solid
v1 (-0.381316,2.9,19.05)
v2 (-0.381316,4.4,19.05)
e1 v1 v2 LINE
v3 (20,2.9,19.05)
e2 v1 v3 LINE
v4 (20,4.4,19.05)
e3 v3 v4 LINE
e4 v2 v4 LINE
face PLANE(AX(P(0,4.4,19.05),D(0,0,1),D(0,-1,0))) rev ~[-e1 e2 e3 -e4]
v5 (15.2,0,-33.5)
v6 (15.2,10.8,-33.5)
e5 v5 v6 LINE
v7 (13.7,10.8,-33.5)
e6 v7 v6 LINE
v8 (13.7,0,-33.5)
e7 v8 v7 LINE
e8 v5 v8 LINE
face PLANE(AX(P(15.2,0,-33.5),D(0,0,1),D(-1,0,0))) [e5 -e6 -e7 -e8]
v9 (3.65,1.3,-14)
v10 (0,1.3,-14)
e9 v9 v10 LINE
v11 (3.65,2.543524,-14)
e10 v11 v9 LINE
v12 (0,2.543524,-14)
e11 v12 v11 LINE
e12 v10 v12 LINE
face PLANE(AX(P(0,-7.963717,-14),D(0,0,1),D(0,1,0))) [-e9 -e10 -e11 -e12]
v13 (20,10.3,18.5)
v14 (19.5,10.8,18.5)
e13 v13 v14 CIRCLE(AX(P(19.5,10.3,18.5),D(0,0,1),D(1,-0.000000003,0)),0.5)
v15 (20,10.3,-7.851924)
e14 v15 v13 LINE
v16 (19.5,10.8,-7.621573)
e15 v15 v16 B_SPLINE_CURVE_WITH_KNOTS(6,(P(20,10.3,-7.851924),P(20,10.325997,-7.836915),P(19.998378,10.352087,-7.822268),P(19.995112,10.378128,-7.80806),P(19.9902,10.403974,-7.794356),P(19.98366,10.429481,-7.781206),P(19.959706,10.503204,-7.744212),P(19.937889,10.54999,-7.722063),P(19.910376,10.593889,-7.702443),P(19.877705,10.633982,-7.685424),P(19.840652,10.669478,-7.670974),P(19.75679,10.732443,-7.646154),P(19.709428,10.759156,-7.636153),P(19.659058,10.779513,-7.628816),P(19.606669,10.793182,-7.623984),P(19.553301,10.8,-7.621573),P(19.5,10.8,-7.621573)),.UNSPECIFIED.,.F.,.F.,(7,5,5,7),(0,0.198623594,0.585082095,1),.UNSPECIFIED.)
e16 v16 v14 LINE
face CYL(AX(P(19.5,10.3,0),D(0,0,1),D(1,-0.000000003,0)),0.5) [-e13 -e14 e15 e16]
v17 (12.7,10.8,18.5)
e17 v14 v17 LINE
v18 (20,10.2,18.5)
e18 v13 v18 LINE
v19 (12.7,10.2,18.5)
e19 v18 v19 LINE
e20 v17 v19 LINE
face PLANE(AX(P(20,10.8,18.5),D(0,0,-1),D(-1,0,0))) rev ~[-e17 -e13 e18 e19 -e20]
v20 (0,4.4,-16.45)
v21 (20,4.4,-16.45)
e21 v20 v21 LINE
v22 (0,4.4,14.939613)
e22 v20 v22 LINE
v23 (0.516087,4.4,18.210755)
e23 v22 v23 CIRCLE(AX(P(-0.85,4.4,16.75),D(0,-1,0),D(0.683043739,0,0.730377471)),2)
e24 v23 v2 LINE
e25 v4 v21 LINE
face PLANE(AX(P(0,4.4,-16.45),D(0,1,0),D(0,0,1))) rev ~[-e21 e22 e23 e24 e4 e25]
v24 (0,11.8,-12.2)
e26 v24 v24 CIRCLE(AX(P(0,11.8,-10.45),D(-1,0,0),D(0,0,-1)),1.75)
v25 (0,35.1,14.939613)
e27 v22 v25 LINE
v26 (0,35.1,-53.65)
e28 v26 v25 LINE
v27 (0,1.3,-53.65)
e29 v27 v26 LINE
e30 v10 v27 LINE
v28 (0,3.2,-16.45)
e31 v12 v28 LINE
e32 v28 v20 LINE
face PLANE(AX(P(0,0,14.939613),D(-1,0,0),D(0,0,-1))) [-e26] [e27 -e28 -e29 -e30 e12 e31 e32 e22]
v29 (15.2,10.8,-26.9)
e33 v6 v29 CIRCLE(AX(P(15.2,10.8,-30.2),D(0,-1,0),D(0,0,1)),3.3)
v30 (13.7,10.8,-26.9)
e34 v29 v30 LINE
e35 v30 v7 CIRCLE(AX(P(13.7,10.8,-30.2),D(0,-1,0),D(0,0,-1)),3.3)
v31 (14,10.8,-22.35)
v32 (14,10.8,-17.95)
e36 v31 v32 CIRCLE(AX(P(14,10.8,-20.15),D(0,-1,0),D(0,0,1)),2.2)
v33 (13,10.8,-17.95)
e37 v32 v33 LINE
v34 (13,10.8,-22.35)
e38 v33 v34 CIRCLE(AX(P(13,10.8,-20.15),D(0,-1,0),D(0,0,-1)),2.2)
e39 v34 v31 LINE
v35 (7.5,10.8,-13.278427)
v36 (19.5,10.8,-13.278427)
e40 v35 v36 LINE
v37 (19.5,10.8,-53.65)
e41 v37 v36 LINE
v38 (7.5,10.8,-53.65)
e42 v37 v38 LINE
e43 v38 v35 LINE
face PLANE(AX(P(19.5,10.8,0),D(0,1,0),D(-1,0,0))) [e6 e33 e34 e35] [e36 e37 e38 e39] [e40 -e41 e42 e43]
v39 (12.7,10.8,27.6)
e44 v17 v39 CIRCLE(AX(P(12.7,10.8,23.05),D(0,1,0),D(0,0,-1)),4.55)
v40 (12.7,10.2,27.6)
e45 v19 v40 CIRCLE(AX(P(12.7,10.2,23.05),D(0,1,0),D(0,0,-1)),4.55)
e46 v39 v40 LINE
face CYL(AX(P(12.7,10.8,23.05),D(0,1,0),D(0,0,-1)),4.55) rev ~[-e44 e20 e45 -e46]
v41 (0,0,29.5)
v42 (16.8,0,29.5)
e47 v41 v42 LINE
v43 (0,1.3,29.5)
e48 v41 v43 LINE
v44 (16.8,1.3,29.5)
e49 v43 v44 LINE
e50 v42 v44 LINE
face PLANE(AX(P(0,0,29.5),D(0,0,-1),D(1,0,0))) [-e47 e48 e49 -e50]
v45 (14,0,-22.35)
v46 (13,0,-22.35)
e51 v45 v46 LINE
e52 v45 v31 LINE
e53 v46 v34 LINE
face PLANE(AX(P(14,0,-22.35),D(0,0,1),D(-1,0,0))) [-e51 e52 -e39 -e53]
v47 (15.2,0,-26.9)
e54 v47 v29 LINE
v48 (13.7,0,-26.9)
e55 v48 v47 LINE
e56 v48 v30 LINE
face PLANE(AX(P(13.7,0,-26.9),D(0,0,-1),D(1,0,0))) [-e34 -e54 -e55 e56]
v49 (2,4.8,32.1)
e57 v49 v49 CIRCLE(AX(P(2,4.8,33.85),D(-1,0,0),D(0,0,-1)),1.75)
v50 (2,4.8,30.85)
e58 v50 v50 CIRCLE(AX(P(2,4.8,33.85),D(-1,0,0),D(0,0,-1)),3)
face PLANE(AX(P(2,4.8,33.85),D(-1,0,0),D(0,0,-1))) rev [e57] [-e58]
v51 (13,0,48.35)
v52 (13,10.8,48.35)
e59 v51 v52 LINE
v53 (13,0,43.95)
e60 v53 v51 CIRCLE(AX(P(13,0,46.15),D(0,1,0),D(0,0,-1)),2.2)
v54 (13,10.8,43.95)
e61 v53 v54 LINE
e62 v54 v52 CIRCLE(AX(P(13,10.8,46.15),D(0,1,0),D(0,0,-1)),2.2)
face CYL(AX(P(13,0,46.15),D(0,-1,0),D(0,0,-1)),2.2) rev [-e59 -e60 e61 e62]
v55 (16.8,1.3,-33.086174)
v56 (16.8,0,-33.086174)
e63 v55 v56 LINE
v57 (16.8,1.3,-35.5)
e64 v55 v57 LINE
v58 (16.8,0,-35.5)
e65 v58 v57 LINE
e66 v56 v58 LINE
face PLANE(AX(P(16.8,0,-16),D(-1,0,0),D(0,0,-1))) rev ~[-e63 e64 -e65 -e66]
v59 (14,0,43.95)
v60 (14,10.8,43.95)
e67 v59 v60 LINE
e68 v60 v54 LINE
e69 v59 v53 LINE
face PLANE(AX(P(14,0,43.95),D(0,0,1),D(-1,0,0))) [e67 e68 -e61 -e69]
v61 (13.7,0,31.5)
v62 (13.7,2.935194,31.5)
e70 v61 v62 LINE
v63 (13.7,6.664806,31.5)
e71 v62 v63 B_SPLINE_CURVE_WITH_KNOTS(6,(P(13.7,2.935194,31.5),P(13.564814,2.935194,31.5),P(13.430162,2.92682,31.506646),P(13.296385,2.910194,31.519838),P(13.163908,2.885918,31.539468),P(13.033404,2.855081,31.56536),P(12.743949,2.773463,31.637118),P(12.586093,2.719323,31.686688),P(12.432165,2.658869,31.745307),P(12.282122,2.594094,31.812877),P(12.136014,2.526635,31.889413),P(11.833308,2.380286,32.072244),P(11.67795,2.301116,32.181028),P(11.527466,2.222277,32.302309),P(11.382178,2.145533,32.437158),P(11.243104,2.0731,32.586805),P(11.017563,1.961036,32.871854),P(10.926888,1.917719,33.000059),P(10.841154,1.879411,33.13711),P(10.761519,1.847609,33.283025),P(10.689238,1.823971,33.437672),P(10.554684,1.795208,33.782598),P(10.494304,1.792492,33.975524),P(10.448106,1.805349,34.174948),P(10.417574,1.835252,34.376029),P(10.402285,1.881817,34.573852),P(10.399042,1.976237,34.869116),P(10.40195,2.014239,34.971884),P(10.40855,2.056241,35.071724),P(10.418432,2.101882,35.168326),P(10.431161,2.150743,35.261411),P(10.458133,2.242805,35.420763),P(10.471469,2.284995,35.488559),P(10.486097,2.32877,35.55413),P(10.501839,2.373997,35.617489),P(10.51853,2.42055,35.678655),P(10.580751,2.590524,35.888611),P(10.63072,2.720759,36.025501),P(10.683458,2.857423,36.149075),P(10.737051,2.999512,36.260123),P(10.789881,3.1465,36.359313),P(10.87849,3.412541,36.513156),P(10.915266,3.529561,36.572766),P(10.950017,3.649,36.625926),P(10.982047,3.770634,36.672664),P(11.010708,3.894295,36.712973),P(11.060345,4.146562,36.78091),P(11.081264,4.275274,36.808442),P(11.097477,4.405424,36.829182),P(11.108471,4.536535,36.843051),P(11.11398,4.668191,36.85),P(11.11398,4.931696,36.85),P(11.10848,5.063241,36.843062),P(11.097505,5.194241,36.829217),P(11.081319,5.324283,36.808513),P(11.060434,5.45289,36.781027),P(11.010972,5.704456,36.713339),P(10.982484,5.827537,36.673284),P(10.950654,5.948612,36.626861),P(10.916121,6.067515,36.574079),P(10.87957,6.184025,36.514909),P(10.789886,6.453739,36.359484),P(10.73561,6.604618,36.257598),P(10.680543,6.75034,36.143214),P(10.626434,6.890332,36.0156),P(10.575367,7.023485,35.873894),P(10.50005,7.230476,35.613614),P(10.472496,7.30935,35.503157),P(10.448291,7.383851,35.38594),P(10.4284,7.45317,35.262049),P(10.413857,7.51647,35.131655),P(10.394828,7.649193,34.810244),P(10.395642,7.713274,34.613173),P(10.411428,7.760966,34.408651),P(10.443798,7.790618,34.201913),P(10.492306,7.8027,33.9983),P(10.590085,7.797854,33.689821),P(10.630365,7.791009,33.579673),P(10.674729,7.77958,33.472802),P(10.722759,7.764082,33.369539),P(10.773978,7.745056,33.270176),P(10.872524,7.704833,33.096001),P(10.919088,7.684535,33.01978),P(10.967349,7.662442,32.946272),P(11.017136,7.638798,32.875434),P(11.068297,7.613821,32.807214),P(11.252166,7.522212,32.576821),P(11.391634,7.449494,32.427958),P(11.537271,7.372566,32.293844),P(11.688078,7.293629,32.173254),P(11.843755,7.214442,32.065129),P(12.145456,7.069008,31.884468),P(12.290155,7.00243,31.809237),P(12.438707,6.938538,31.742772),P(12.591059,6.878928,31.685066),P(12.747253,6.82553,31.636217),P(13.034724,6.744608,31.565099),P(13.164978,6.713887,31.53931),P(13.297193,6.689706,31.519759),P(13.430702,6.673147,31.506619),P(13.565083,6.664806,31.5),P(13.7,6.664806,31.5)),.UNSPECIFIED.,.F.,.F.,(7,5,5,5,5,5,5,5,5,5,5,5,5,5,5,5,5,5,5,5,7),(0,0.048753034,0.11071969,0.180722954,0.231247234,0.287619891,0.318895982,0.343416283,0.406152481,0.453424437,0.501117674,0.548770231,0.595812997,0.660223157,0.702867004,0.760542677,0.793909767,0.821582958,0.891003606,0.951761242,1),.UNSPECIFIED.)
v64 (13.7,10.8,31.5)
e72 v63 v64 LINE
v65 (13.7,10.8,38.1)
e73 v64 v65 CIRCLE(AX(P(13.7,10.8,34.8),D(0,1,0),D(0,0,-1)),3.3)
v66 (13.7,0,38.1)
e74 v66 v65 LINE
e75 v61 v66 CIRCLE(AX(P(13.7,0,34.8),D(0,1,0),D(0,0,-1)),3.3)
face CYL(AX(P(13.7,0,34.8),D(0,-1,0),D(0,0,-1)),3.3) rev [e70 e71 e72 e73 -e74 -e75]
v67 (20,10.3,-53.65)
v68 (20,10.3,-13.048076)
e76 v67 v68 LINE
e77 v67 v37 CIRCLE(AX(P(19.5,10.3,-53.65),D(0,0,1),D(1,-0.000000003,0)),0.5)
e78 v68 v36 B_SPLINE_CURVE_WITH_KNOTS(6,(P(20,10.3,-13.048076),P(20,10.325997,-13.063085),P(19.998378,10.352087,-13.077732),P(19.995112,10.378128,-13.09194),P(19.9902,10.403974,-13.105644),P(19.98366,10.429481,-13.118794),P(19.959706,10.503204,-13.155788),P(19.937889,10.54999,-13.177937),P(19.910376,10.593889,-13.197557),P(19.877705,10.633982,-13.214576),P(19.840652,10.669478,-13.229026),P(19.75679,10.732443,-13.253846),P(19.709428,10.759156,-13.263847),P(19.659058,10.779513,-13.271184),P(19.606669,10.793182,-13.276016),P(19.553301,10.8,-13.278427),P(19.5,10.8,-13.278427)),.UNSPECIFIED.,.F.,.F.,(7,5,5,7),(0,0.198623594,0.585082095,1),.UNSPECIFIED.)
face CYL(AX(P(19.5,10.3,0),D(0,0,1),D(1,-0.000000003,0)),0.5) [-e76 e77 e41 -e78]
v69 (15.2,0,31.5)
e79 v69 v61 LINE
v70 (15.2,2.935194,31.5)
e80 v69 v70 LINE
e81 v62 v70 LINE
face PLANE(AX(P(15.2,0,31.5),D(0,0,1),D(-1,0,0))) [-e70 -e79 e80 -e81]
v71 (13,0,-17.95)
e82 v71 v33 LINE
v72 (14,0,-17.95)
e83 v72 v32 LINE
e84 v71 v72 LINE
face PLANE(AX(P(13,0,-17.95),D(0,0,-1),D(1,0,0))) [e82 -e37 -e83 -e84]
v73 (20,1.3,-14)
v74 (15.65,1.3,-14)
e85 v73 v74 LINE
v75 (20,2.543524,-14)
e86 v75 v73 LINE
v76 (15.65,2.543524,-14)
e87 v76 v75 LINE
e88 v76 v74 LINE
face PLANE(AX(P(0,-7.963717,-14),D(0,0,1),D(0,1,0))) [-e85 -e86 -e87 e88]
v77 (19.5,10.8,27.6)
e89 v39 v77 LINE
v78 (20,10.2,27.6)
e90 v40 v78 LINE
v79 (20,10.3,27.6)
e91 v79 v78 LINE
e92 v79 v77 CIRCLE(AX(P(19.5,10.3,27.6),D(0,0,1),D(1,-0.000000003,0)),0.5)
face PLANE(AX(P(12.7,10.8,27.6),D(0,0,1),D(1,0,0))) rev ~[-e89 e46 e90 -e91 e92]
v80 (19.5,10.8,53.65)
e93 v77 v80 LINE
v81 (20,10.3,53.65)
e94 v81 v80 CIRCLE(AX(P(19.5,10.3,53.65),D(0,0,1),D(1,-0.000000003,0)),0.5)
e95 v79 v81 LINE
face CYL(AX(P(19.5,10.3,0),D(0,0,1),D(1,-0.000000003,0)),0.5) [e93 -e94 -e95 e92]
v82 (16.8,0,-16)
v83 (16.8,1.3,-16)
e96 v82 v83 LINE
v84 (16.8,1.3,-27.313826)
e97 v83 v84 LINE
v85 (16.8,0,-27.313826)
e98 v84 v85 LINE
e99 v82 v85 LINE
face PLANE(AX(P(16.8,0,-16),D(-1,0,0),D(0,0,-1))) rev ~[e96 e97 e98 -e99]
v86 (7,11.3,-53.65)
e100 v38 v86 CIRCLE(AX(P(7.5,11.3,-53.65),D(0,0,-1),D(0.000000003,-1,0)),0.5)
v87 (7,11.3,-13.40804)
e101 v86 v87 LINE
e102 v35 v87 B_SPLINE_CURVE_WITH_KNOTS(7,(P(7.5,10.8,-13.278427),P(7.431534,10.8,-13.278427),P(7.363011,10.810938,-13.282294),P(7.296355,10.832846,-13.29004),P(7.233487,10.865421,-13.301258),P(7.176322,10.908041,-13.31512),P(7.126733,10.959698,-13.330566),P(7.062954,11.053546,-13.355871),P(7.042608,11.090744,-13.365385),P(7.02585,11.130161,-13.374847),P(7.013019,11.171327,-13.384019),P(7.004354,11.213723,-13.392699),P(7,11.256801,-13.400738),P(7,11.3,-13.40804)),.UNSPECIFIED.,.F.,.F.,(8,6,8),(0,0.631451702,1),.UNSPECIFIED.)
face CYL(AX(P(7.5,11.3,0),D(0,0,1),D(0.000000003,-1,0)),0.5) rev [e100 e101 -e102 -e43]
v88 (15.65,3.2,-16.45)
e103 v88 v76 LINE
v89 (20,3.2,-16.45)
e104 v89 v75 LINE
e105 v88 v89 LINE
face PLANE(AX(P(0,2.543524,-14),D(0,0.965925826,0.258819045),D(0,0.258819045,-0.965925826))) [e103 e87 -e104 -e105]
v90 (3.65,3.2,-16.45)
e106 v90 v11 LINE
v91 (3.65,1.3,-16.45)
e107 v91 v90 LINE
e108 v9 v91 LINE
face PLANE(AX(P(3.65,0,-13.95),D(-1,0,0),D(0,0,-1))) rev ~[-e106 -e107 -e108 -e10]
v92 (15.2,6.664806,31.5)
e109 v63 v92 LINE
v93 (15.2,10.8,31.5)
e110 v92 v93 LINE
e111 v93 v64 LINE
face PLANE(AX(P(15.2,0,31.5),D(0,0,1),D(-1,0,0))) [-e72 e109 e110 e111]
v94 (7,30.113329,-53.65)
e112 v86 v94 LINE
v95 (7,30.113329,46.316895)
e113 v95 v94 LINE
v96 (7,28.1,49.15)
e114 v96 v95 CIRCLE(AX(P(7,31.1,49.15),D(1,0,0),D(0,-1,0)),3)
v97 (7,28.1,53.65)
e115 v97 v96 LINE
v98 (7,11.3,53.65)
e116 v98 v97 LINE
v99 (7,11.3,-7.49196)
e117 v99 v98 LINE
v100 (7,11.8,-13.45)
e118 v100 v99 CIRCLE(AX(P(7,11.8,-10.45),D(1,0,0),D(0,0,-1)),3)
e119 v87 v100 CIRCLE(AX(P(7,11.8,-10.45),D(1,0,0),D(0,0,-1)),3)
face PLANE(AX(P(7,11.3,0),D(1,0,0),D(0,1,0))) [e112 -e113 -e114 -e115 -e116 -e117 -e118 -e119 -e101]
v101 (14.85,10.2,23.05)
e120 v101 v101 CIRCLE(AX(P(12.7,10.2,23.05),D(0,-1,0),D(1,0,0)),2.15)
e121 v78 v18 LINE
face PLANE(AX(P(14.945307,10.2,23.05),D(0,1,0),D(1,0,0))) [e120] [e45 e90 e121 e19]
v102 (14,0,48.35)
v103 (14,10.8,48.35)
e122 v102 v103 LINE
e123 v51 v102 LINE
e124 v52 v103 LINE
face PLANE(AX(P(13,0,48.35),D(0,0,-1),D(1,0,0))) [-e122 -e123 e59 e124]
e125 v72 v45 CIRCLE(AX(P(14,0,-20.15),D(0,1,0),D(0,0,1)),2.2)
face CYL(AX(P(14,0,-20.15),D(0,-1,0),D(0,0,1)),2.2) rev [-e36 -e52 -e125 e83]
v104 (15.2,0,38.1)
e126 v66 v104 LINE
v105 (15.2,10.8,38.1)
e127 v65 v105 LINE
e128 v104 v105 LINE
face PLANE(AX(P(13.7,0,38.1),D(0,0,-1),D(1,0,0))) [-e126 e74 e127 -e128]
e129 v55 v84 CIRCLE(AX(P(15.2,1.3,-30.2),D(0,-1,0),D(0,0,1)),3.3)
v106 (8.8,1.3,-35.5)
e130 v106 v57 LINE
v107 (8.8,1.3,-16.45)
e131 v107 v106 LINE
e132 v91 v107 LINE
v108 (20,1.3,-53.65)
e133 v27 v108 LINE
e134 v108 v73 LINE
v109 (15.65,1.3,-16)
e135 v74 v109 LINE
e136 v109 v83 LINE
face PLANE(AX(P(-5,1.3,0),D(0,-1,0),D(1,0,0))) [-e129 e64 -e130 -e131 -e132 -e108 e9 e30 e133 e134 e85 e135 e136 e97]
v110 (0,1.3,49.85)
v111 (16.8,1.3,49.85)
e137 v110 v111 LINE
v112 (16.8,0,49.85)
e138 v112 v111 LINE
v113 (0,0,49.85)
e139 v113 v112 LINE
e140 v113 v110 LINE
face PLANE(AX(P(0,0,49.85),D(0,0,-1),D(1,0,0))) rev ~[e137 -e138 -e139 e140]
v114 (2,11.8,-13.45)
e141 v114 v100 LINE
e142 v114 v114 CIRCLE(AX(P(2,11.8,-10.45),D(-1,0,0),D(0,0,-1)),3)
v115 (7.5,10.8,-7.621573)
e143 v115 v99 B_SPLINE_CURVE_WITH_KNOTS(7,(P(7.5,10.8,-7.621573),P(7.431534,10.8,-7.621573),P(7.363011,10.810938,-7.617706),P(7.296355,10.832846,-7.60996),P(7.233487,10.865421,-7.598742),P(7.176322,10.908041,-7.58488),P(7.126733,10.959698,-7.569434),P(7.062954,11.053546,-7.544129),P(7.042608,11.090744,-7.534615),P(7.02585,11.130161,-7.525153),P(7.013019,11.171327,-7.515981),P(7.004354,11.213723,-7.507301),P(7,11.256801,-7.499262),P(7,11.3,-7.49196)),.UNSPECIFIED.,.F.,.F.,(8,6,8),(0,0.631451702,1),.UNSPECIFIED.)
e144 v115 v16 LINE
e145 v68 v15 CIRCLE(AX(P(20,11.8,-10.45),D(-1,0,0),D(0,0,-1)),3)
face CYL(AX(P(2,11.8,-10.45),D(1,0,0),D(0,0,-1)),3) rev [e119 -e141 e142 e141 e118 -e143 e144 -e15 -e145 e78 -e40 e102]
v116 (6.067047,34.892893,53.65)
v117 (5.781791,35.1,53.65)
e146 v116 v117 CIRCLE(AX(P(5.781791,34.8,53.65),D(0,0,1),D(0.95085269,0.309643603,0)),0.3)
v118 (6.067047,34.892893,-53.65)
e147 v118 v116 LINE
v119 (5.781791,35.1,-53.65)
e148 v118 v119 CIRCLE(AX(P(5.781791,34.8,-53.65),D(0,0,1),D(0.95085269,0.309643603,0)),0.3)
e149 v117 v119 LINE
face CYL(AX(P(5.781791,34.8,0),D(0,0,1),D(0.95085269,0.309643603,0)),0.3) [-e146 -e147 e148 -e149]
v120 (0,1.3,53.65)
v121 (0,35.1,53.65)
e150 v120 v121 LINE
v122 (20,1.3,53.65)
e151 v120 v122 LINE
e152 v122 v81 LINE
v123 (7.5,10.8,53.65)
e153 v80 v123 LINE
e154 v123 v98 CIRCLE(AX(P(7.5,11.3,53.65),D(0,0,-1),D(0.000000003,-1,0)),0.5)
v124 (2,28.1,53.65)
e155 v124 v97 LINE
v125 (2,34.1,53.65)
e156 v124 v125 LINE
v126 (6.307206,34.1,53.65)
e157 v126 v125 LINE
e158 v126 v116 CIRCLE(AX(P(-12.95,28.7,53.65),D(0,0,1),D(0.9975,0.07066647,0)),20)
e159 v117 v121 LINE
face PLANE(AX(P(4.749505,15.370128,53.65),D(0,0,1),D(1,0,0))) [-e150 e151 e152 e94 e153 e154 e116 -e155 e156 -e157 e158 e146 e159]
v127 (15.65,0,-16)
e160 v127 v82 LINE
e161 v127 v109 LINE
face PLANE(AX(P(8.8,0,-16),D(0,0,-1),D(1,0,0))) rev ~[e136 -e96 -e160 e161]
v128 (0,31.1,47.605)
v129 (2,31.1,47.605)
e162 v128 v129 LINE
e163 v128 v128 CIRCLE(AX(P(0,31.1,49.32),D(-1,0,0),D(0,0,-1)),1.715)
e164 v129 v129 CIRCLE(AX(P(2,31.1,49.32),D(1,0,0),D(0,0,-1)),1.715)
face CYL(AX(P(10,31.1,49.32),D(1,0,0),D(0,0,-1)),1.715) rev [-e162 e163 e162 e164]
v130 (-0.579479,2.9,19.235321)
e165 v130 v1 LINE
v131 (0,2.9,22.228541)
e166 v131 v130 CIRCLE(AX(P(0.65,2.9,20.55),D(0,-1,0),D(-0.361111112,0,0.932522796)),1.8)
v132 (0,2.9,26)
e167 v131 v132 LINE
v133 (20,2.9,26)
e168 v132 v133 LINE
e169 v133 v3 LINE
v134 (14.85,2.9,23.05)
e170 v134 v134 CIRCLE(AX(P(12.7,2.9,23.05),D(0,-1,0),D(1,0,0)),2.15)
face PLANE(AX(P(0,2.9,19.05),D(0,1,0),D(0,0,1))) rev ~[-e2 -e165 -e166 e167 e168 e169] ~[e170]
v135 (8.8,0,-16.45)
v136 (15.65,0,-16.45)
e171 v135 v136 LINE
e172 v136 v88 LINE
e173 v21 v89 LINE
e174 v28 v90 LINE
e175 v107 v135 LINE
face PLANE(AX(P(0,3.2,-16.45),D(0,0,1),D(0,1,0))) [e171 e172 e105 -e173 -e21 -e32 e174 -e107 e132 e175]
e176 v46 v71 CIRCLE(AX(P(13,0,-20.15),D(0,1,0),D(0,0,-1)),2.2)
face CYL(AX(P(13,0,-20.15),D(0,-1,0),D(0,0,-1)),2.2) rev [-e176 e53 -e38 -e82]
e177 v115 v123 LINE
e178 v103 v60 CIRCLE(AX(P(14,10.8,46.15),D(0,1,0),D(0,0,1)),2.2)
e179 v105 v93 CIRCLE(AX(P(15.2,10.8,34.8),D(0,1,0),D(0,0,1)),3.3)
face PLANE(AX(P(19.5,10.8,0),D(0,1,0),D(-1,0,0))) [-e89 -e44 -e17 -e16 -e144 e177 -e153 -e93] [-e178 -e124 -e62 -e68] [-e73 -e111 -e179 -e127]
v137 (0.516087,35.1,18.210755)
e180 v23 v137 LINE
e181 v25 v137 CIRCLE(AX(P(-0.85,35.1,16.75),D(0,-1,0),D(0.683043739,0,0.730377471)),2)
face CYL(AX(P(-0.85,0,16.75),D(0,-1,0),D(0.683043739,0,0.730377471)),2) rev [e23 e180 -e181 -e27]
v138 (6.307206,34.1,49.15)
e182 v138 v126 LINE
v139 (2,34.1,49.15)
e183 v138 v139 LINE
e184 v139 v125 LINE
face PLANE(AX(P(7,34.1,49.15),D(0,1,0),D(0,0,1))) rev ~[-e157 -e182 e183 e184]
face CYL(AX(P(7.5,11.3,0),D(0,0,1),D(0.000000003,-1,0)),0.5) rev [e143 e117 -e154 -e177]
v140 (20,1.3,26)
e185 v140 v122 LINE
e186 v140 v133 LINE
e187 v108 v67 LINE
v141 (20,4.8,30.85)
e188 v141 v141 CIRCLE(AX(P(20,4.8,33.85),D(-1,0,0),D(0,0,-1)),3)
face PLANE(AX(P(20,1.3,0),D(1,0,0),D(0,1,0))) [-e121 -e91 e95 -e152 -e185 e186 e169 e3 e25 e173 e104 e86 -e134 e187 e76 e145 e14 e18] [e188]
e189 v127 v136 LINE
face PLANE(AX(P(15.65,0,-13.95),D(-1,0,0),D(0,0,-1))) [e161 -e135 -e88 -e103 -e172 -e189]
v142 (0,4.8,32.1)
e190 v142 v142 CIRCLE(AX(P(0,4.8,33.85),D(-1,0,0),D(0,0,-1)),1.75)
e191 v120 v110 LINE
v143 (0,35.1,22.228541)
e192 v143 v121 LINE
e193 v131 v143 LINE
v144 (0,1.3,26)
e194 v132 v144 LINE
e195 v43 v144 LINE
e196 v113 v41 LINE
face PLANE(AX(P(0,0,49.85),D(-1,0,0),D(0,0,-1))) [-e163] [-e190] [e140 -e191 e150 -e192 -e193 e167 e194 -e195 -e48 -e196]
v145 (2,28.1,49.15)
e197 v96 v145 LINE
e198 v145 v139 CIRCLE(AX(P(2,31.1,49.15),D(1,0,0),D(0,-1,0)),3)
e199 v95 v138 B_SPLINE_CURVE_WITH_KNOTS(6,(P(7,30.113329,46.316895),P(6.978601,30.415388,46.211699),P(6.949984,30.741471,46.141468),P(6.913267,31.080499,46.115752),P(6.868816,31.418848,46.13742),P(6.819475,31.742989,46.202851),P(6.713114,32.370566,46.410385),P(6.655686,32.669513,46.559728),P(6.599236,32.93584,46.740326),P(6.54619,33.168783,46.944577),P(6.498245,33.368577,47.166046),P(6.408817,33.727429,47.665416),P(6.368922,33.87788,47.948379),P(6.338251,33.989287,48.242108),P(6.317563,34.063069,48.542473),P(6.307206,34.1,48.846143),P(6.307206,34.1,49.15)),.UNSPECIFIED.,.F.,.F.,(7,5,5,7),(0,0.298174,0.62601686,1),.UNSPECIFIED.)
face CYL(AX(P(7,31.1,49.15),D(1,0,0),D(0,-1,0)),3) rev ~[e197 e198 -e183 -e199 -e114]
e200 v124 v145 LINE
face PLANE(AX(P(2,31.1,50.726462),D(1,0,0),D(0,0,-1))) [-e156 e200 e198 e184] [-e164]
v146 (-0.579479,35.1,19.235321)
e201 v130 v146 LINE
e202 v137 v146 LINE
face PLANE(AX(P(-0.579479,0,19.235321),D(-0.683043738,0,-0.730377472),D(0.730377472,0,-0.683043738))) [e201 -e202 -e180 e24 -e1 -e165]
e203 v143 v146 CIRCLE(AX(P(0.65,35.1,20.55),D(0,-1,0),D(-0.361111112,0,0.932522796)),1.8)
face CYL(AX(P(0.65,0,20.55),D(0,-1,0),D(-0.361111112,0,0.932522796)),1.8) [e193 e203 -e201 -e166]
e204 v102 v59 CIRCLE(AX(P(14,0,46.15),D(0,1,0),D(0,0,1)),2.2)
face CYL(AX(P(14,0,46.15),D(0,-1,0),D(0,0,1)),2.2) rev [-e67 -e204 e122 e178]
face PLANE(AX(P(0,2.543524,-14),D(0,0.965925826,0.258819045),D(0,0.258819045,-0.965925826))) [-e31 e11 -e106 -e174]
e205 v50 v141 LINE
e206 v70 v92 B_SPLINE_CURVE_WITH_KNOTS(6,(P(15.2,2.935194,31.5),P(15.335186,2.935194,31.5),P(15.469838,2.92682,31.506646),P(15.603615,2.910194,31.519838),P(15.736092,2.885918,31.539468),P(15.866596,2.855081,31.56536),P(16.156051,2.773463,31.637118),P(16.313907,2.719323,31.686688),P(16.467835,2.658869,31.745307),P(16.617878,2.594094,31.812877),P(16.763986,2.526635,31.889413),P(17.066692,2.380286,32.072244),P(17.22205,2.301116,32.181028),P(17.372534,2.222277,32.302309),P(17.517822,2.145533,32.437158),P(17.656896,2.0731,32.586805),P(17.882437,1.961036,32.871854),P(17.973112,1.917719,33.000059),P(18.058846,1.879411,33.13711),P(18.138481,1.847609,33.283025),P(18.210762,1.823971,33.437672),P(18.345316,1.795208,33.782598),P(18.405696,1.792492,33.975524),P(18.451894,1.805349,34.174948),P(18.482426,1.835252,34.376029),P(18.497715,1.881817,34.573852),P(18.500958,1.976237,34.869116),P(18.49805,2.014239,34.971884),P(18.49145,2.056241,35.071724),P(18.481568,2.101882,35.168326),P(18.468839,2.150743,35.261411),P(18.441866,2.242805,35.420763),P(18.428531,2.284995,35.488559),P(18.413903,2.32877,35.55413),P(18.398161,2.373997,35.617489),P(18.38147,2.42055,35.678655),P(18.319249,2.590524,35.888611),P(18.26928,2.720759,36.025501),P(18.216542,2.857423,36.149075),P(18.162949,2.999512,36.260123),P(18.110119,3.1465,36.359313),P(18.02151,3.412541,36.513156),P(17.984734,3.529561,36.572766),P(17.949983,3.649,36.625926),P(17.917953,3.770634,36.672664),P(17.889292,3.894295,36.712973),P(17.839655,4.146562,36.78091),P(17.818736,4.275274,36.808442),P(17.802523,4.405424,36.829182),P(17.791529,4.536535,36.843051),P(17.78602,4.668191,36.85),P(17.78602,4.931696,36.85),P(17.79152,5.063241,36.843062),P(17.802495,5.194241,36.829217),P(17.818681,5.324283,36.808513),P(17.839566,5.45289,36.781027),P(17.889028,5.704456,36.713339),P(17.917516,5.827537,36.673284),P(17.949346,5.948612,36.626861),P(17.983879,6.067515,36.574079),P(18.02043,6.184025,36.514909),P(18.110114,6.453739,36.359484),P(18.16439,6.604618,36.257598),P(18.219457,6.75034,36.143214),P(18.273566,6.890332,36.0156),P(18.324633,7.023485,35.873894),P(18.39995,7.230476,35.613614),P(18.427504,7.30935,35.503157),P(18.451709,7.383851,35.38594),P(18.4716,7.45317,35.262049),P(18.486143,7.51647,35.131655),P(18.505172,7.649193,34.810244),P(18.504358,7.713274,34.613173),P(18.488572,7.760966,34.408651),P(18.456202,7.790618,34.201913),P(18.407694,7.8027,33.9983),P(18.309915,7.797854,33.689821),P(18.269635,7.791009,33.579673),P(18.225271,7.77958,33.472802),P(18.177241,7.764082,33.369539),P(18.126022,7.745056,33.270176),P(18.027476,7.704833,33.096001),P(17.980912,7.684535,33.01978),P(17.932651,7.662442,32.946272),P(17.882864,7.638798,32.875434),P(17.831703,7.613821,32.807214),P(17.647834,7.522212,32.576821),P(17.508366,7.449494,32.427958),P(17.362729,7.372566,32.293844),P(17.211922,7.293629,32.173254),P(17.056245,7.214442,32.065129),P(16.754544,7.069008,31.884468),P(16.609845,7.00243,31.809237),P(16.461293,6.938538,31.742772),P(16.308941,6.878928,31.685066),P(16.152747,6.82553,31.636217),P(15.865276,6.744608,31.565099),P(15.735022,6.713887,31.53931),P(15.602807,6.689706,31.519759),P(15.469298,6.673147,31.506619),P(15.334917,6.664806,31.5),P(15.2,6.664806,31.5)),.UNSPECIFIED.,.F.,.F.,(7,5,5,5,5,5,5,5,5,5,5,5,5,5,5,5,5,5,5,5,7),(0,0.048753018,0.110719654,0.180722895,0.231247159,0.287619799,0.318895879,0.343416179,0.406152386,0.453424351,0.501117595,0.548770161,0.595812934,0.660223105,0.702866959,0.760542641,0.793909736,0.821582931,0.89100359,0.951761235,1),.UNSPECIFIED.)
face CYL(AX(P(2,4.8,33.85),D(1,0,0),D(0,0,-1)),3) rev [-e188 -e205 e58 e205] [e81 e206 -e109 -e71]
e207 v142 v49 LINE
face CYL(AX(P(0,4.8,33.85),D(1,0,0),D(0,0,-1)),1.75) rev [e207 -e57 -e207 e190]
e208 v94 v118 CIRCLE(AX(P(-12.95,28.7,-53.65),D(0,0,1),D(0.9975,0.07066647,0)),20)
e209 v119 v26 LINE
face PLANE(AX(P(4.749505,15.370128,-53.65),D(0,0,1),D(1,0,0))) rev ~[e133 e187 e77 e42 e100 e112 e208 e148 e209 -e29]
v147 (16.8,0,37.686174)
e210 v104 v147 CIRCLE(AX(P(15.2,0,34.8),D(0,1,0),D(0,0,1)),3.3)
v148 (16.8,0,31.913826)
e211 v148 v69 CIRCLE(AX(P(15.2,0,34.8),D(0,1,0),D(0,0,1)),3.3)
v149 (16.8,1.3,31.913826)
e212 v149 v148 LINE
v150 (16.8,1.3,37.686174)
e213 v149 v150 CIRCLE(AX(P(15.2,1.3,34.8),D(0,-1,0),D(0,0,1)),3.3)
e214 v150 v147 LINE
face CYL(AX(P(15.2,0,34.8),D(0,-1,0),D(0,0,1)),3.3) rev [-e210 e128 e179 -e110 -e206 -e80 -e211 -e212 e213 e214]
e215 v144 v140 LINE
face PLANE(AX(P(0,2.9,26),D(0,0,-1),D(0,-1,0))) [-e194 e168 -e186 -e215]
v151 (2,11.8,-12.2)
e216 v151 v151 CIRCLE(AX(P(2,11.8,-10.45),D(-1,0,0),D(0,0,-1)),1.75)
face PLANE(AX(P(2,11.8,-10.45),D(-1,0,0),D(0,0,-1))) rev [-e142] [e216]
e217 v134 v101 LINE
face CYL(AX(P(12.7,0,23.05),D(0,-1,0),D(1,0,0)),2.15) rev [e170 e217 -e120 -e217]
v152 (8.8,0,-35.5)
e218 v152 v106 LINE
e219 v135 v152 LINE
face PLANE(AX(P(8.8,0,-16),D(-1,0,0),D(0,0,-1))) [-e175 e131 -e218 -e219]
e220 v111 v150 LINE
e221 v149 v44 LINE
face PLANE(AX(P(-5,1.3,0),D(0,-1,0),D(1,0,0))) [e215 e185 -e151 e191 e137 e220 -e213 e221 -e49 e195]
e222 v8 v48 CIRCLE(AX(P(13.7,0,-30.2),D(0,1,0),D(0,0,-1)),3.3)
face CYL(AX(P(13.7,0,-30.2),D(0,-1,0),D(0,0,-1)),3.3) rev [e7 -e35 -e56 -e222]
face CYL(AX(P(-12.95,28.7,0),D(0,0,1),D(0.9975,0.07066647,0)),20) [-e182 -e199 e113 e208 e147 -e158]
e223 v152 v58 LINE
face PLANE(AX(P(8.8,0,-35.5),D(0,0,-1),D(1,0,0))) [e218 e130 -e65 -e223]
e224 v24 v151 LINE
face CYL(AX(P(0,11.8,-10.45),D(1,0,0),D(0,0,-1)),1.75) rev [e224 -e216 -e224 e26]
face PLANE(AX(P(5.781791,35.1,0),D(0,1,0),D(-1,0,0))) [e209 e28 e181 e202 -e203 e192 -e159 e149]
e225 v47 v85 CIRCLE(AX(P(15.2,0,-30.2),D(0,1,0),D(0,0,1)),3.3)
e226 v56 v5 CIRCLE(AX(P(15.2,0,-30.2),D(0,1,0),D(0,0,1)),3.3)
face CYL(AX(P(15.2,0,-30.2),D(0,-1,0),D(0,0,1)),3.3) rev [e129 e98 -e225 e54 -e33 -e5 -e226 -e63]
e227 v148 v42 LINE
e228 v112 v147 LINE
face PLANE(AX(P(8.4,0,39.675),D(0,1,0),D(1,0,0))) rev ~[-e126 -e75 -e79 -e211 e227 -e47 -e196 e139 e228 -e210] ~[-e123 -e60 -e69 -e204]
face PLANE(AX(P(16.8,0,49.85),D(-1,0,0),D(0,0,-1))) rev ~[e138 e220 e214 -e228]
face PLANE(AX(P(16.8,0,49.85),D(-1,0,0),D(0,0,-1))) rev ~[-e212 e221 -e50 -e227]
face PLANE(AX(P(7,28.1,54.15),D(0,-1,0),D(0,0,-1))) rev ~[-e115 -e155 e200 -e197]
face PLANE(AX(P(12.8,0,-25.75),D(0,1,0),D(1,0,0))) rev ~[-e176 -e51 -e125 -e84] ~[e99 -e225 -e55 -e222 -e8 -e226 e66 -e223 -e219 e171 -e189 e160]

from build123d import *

# Parameters (mm, degrees)
BOSS_EXTRUDE1_DEPTH      = 53.65
BOSS_EXTRUDE1_DEPTH_BACK = 53.65
CUT_EXTRUDE1_DEPTH       = 50
CUT_EXTRUDE2_DEPTH       = 40
CUT_EXTRUDE2_DEPTH_BACK  = 40
SKETCH4_W                = 8
SKETCH4_H                = 19.5
BOSS_EXTRUDE2_DEPTH      = 1.5
SKETCH5_W                = 16.8
SKETCH5_H                = 20.35
BOSS_EXTRUDE3_DEPTH      = 1.5
CUT_EXTRUDE3_DEPTH       = 30
CUT_EXTRUDE3_DEPTH_BACK  = 30
CUT_EXTRUDE4_DEPTH       = 30
SKETCH8_R                = 2.15
CUT_EXTRUDE5_DEPTH       = 30
CUT_EXTRUDE6_DEPTH       = 10.8
CUT_EXTRUDE7_DEPTH       = 10.8
SKETCH13_W               = 20
SKETCH13_H               = 1.715
CUT_EXTRUDE8_DEPTH       = 5
CUT_EXTRUDE8_DEPTH_BACK  = 5
CUT_EXTRUDE9_DEPTH       = 0.6
SKETCH16_W               = 12
SKETCH16_H               = 2.5
CUT_EXTRUDE10_DEPTH      = 3.5


with BuildPart() as part:
    # Sketch1 → Boss-Extrude1 (new body, two sides)
    with BuildSketch(Plane.XY) as boss_extrude1_sk:
        with BuildLine():
            Line((-5, 1.3), (20, 1.3))
            Line((20, 1.3), (20, 10.3))
            ThreePointArc((20, 10.3), (19.853553391, 10.653553391), (19.5, 10.8))
            Line((19.5, 10.8), (7.5, 10.8))
            ThreePointArc((7.5, 10.8), (7.146446609, 10.946446609), (7, 11.3))
            Line((7, 11.3), (7, 30.113329403))
            ThreePointArc((7, 30.113329403), (6.679537553, 32.531612644), (6.067046966, 34.89289308))
            ThreePointArc((6.067046966, 34.89289308), (5.958046762, 35.042763181), (5.781791158, 35.1))
            Line((5.781791158, 35.1), (-5, 35.1))
            Line((-5, 35.1), (-5, 1.3))
        make_face()
    extrude(amount=BOSS_EXTRUDE1_DEPTH)
    extrude(boss_extrude1_sk.sketch, amount=-BOSS_EXTRUDE1_DEPTH_BACK)

    # Sketch2 → Cut-Extrude1 (cut)
    with BuildSketch(Plane(origin=(0, 0, 0), x_dir=(1, 0, 0), z_dir=(0, 1, 0))):
        with BuildLine():
            Line((-50, 53.65), (-50, -53.65))
            Line((-50, -53.65), (0, -53.65))
            Line((0, -53.65), (0, -22.228541033))
            ThreePointArc((0, -22.228541033), (-1.117187677, -20.892122365), (-0.57947873, -19.235320551))
            Line((-0.57947873, -19.235320551), (0.516087478, -18.210754943))
            ThreePointArc((0.516087478, -18.210754943), (1.125563929, -16.438315605), (0, -14.939613301))
            Line((0, -14.939613301), (0, 53.65))
            Line((0, 53.65), (-50, 53.65))
        make_face()
    extrude(amount=CUT_EXTRUDE1_DEPTH, mode=Mode.SUBTRACT)

    # Sketch3 → Cut-Extrude2 (cut, two sides)
    with BuildSketch(Plane(origin=(0, 0, 0), x_dir=(0, 0, -1), z_dir=(1, 0, 0))) as cut_extrude2_sk:
        Polygon((-26, 2.9), (-26, -8.174443219), (14, -7.963716906), (14, 2.543524479), (16.45, 3.2), (16.45, 4.4), (-19.05, 4.4), (-19.05, 2.9), align=None)
    extrude(amount=CUT_EXTRUDE2_DEPTH, mode=Mode.SUBTRACT)
    extrude(cut_extrude2_sk.sketch, amount=-CUT_EXTRUDE2_DEPTH_BACK, mode=Mode.SUBTRACT)

    # Sketch4 → Boss-Extrude2 (add)
    with BuildSketch(Plane(origin=(0, 0, 0), x_dir=(1, 0, 0), z_dir=(0, 1, 0))):
        with Locations((12.8, 25.75)):
            Rectangle(SKETCH4_W, SKETCH4_H)
    extrude(amount=BOSS_EXTRUDE2_DEPTH)

    # Sketch5 → Boss-Extrude3 (add)
    with BuildSketch(Plane(origin=(0, 0, 0), x_dir=(1, 0, 0), z_dir=(0, 1, 0))):
        with Locations((8.4, -39.675)):
            Rectangle(SKETCH5_W, SKETCH5_H)
    extrude(amount=BOSS_EXTRUDE3_DEPTH)

    # Sketch6 → Cut-Extrude3 (cut, two sides)
    with BuildSketch(Plane(origin=(0, 0, 0), x_dir=(1, 0, 0), z_dir=(0, 1, 0))) as cut_extrude3_sk:
        with BuildLine():
            Line((13.7, 26.9), (15.2, 26.9))
            ThreePointArc((15.2, 26.9), (18.5, 30.2), (15.2, 33.5))
            Line((15.2, 33.5), (13.7, 33.5))
            ThreePointArc((13.7, 33.5), (10.4, 30.2), (13.7, 26.9))
        make_face()
    extrude(amount=CUT_EXTRUDE3_DEPTH, mode=Mode.SUBTRACT)
    extrude(cut_extrude3_sk.sketch, amount=-CUT_EXTRUDE3_DEPTH_BACK, mode=Mode.SUBTRACT)

    # Sketch7 → Cut-Extrude4 (cut)
    with BuildSketch(Plane(origin=(0, 0, 0), x_dir=(1, 0, 0), z_dir=(0, 1, 0))):
        with BuildLine():
            Line((13, 17.95), (14, 17.95))
            ThreePointArc((14, 17.95), (16.2, 20.15), (14, 22.35))
            Line((14, 22.35), (13, 22.35))
            ThreePointArc((13, 22.35), (10.8, 20.15), (13, 17.95))
        make_face()
    extrude(amount=CUT_EXTRUDE4_DEPTH, mode=Mode.SUBTRACT)

    # Sketch8 → Cut-Extrude5 (cut)
    with BuildSketch(Plane(origin=(0, 0, 0), x_dir=(1, 0, 0), z_dir=(0, 1, 0))):
        with Locations((12.7, -23.05)):
            Circle(SKETCH8_R)
    extrude(amount=CUT_EXTRUDE5_DEPTH, mode=Mode.SUBTRACT)

    # Sketch9 → Cut-Extrude6 (cut)
    with BuildSketch(Plane(origin=(0, 0, 0), x_dir=(1, 0, 0), z_dir=(0, 1, 0))):
        with BuildLine():
            Line((13.7, -38.1), (15.2, -38.1))
            ThreePointArc((15.2, -38.1), (18.5, -34.8), (15.2, -31.5))
            Line((15.2, -31.5), (13.7, -31.5))
            ThreePointArc((13.7, -31.5), (10.4, -34.8), (13.7, -38.1))
        make_face()
    extrude(amount=CUT_EXTRUDE6_DEPTH, mode=Mode.SUBTRACT)

    # Sketch10 → Cut-Extrude7 (cut)
    with BuildSketch(Plane(origin=(0, 0, 0), x_dir=(1, 0, 0), z_dir=(0, 1, 0))):
        with BuildLine():
            Line((13, -48.35), (14, -48.35))
            ThreePointArc((14, -48.35), (16.2, -46.15), (14, -43.95))
            Line((14, -43.95), (13, -43.95))
            ThreePointArc((13, -43.95), (10.8, -46.15), (13, -48.35))
        make_face()
    extrude(amount=CUT_EXTRUDE7_DEPTH, mode=Mode.SUBTRACT)

    # Sketch11 → Cut-Revolve1 (revolve, cut)
    with BuildSketch(Plane(origin=(0, 11.8, 0), x_dir=(1, 0, 0), z_dir=(0, 1, 0))):
        Polygon((0, 10.45), (0, 12.2), (2, 12.2), (2, 13.45), (20, 13.45), (20, 10.45), align=None)
    revolve(axis=Axis((20, 11.8, -10.45), (-1, 0, 0)), mode=Mode.SUBTRACT)

    # Sketch12 → Cut-Revolve2 (revolve, cut)
    with BuildSketch(Plane(origin=(0, 4.8, 0), x_dir=(1, 0, 0), z_dir=(0, 1, 0))):
        Polygon((0, -33.85), (0, -32.1), (2, -32.1), (2, -30.85), (20, -30.85), (20, -33.85), align=None)
    revolve(axis=Axis((20, 4.8, 33.85), (-1, 0, 0)), mode=Mode.SUBTRACT)

    # Sketch13 → Cut-Revolve3 (revolve, cut)
    with BuildSketch(Plane(origin=(0, 31.1, 0), x_dir=(1, 0, 0), z_dir=(0, 1, 0))):
        with Locations((10, -48.4625)):
            Rectangle(SKETCH13_W, SKETCH13_H)
    revolve(axis=Axis((20, 31.1, 49.32), (-1, 0, 0)), mode=Mode.SUBTRACT)

    # Sketch14 → Cut-Extrude8 (cut, two sides)
    with BuildSketch(Plane(origin=(7, 0, 0), x_dir=(0, 0, -1), z_dir=(1, 0, 0))) as cut_extrude8_sk:
        with BuildLine():
            Line((-54.15, 28.1), (-49.15, 28.1))
            ThreePointArc((-49.15, 28.1), (-46.15, 31.1), (-49.15, 34.1))
            Line((-49.15, 34.1), (-54.15, 34.1))
            Line((-54.15, 34.1), (-54.15, 28.1))
        make_face()
    extrude(amount=CUT_EXTRUDE8_DEPTH, mode=Mode.SUBTRACT)
    extrude(cut_extrude8_sk.sketch, amount=-CUT_EXTRUDE8_DEPTH_BACK, mode=Mode.SUBTRACT)

    # Sketch15 → Cut-Extrude9 (cut)
    with BuildSketch(Plane(origin=(0, 10.8, 0), x_dir=(1, 0, 0), z_dir=(0, 1, 0))):
        with BuildLine():
            Line((12.7, -27.6), (20, -27.6))
            Line((20, -27.6), (20, -18.5))
            Line((20, -18.5), (12.7, -18.5))
            ThreePointArc((12.7, -18.5), (8.15, -23.05), (12.7, -27.6))
        make_face()
    extrude(amount=-CUT_EXTRUDE9_DEPTH, mode=Mode.SUBTRACT)

    # Sketch16 → Cut-Extrude10 (cut)
    with BuildSketch(Plane(origin=(0, 0, 0), x_dir=(1, 0, 0), z_dir=(0, 1, 0))):
        with Locations((9.65, 15.2)):
            Rectangle(SKETCH16_W, SKETCH16_H)
    extrude(amount=CUT_EXTRUDE10_DEPTH, mode=Mode.SUBTRACT)


solid = part.part
